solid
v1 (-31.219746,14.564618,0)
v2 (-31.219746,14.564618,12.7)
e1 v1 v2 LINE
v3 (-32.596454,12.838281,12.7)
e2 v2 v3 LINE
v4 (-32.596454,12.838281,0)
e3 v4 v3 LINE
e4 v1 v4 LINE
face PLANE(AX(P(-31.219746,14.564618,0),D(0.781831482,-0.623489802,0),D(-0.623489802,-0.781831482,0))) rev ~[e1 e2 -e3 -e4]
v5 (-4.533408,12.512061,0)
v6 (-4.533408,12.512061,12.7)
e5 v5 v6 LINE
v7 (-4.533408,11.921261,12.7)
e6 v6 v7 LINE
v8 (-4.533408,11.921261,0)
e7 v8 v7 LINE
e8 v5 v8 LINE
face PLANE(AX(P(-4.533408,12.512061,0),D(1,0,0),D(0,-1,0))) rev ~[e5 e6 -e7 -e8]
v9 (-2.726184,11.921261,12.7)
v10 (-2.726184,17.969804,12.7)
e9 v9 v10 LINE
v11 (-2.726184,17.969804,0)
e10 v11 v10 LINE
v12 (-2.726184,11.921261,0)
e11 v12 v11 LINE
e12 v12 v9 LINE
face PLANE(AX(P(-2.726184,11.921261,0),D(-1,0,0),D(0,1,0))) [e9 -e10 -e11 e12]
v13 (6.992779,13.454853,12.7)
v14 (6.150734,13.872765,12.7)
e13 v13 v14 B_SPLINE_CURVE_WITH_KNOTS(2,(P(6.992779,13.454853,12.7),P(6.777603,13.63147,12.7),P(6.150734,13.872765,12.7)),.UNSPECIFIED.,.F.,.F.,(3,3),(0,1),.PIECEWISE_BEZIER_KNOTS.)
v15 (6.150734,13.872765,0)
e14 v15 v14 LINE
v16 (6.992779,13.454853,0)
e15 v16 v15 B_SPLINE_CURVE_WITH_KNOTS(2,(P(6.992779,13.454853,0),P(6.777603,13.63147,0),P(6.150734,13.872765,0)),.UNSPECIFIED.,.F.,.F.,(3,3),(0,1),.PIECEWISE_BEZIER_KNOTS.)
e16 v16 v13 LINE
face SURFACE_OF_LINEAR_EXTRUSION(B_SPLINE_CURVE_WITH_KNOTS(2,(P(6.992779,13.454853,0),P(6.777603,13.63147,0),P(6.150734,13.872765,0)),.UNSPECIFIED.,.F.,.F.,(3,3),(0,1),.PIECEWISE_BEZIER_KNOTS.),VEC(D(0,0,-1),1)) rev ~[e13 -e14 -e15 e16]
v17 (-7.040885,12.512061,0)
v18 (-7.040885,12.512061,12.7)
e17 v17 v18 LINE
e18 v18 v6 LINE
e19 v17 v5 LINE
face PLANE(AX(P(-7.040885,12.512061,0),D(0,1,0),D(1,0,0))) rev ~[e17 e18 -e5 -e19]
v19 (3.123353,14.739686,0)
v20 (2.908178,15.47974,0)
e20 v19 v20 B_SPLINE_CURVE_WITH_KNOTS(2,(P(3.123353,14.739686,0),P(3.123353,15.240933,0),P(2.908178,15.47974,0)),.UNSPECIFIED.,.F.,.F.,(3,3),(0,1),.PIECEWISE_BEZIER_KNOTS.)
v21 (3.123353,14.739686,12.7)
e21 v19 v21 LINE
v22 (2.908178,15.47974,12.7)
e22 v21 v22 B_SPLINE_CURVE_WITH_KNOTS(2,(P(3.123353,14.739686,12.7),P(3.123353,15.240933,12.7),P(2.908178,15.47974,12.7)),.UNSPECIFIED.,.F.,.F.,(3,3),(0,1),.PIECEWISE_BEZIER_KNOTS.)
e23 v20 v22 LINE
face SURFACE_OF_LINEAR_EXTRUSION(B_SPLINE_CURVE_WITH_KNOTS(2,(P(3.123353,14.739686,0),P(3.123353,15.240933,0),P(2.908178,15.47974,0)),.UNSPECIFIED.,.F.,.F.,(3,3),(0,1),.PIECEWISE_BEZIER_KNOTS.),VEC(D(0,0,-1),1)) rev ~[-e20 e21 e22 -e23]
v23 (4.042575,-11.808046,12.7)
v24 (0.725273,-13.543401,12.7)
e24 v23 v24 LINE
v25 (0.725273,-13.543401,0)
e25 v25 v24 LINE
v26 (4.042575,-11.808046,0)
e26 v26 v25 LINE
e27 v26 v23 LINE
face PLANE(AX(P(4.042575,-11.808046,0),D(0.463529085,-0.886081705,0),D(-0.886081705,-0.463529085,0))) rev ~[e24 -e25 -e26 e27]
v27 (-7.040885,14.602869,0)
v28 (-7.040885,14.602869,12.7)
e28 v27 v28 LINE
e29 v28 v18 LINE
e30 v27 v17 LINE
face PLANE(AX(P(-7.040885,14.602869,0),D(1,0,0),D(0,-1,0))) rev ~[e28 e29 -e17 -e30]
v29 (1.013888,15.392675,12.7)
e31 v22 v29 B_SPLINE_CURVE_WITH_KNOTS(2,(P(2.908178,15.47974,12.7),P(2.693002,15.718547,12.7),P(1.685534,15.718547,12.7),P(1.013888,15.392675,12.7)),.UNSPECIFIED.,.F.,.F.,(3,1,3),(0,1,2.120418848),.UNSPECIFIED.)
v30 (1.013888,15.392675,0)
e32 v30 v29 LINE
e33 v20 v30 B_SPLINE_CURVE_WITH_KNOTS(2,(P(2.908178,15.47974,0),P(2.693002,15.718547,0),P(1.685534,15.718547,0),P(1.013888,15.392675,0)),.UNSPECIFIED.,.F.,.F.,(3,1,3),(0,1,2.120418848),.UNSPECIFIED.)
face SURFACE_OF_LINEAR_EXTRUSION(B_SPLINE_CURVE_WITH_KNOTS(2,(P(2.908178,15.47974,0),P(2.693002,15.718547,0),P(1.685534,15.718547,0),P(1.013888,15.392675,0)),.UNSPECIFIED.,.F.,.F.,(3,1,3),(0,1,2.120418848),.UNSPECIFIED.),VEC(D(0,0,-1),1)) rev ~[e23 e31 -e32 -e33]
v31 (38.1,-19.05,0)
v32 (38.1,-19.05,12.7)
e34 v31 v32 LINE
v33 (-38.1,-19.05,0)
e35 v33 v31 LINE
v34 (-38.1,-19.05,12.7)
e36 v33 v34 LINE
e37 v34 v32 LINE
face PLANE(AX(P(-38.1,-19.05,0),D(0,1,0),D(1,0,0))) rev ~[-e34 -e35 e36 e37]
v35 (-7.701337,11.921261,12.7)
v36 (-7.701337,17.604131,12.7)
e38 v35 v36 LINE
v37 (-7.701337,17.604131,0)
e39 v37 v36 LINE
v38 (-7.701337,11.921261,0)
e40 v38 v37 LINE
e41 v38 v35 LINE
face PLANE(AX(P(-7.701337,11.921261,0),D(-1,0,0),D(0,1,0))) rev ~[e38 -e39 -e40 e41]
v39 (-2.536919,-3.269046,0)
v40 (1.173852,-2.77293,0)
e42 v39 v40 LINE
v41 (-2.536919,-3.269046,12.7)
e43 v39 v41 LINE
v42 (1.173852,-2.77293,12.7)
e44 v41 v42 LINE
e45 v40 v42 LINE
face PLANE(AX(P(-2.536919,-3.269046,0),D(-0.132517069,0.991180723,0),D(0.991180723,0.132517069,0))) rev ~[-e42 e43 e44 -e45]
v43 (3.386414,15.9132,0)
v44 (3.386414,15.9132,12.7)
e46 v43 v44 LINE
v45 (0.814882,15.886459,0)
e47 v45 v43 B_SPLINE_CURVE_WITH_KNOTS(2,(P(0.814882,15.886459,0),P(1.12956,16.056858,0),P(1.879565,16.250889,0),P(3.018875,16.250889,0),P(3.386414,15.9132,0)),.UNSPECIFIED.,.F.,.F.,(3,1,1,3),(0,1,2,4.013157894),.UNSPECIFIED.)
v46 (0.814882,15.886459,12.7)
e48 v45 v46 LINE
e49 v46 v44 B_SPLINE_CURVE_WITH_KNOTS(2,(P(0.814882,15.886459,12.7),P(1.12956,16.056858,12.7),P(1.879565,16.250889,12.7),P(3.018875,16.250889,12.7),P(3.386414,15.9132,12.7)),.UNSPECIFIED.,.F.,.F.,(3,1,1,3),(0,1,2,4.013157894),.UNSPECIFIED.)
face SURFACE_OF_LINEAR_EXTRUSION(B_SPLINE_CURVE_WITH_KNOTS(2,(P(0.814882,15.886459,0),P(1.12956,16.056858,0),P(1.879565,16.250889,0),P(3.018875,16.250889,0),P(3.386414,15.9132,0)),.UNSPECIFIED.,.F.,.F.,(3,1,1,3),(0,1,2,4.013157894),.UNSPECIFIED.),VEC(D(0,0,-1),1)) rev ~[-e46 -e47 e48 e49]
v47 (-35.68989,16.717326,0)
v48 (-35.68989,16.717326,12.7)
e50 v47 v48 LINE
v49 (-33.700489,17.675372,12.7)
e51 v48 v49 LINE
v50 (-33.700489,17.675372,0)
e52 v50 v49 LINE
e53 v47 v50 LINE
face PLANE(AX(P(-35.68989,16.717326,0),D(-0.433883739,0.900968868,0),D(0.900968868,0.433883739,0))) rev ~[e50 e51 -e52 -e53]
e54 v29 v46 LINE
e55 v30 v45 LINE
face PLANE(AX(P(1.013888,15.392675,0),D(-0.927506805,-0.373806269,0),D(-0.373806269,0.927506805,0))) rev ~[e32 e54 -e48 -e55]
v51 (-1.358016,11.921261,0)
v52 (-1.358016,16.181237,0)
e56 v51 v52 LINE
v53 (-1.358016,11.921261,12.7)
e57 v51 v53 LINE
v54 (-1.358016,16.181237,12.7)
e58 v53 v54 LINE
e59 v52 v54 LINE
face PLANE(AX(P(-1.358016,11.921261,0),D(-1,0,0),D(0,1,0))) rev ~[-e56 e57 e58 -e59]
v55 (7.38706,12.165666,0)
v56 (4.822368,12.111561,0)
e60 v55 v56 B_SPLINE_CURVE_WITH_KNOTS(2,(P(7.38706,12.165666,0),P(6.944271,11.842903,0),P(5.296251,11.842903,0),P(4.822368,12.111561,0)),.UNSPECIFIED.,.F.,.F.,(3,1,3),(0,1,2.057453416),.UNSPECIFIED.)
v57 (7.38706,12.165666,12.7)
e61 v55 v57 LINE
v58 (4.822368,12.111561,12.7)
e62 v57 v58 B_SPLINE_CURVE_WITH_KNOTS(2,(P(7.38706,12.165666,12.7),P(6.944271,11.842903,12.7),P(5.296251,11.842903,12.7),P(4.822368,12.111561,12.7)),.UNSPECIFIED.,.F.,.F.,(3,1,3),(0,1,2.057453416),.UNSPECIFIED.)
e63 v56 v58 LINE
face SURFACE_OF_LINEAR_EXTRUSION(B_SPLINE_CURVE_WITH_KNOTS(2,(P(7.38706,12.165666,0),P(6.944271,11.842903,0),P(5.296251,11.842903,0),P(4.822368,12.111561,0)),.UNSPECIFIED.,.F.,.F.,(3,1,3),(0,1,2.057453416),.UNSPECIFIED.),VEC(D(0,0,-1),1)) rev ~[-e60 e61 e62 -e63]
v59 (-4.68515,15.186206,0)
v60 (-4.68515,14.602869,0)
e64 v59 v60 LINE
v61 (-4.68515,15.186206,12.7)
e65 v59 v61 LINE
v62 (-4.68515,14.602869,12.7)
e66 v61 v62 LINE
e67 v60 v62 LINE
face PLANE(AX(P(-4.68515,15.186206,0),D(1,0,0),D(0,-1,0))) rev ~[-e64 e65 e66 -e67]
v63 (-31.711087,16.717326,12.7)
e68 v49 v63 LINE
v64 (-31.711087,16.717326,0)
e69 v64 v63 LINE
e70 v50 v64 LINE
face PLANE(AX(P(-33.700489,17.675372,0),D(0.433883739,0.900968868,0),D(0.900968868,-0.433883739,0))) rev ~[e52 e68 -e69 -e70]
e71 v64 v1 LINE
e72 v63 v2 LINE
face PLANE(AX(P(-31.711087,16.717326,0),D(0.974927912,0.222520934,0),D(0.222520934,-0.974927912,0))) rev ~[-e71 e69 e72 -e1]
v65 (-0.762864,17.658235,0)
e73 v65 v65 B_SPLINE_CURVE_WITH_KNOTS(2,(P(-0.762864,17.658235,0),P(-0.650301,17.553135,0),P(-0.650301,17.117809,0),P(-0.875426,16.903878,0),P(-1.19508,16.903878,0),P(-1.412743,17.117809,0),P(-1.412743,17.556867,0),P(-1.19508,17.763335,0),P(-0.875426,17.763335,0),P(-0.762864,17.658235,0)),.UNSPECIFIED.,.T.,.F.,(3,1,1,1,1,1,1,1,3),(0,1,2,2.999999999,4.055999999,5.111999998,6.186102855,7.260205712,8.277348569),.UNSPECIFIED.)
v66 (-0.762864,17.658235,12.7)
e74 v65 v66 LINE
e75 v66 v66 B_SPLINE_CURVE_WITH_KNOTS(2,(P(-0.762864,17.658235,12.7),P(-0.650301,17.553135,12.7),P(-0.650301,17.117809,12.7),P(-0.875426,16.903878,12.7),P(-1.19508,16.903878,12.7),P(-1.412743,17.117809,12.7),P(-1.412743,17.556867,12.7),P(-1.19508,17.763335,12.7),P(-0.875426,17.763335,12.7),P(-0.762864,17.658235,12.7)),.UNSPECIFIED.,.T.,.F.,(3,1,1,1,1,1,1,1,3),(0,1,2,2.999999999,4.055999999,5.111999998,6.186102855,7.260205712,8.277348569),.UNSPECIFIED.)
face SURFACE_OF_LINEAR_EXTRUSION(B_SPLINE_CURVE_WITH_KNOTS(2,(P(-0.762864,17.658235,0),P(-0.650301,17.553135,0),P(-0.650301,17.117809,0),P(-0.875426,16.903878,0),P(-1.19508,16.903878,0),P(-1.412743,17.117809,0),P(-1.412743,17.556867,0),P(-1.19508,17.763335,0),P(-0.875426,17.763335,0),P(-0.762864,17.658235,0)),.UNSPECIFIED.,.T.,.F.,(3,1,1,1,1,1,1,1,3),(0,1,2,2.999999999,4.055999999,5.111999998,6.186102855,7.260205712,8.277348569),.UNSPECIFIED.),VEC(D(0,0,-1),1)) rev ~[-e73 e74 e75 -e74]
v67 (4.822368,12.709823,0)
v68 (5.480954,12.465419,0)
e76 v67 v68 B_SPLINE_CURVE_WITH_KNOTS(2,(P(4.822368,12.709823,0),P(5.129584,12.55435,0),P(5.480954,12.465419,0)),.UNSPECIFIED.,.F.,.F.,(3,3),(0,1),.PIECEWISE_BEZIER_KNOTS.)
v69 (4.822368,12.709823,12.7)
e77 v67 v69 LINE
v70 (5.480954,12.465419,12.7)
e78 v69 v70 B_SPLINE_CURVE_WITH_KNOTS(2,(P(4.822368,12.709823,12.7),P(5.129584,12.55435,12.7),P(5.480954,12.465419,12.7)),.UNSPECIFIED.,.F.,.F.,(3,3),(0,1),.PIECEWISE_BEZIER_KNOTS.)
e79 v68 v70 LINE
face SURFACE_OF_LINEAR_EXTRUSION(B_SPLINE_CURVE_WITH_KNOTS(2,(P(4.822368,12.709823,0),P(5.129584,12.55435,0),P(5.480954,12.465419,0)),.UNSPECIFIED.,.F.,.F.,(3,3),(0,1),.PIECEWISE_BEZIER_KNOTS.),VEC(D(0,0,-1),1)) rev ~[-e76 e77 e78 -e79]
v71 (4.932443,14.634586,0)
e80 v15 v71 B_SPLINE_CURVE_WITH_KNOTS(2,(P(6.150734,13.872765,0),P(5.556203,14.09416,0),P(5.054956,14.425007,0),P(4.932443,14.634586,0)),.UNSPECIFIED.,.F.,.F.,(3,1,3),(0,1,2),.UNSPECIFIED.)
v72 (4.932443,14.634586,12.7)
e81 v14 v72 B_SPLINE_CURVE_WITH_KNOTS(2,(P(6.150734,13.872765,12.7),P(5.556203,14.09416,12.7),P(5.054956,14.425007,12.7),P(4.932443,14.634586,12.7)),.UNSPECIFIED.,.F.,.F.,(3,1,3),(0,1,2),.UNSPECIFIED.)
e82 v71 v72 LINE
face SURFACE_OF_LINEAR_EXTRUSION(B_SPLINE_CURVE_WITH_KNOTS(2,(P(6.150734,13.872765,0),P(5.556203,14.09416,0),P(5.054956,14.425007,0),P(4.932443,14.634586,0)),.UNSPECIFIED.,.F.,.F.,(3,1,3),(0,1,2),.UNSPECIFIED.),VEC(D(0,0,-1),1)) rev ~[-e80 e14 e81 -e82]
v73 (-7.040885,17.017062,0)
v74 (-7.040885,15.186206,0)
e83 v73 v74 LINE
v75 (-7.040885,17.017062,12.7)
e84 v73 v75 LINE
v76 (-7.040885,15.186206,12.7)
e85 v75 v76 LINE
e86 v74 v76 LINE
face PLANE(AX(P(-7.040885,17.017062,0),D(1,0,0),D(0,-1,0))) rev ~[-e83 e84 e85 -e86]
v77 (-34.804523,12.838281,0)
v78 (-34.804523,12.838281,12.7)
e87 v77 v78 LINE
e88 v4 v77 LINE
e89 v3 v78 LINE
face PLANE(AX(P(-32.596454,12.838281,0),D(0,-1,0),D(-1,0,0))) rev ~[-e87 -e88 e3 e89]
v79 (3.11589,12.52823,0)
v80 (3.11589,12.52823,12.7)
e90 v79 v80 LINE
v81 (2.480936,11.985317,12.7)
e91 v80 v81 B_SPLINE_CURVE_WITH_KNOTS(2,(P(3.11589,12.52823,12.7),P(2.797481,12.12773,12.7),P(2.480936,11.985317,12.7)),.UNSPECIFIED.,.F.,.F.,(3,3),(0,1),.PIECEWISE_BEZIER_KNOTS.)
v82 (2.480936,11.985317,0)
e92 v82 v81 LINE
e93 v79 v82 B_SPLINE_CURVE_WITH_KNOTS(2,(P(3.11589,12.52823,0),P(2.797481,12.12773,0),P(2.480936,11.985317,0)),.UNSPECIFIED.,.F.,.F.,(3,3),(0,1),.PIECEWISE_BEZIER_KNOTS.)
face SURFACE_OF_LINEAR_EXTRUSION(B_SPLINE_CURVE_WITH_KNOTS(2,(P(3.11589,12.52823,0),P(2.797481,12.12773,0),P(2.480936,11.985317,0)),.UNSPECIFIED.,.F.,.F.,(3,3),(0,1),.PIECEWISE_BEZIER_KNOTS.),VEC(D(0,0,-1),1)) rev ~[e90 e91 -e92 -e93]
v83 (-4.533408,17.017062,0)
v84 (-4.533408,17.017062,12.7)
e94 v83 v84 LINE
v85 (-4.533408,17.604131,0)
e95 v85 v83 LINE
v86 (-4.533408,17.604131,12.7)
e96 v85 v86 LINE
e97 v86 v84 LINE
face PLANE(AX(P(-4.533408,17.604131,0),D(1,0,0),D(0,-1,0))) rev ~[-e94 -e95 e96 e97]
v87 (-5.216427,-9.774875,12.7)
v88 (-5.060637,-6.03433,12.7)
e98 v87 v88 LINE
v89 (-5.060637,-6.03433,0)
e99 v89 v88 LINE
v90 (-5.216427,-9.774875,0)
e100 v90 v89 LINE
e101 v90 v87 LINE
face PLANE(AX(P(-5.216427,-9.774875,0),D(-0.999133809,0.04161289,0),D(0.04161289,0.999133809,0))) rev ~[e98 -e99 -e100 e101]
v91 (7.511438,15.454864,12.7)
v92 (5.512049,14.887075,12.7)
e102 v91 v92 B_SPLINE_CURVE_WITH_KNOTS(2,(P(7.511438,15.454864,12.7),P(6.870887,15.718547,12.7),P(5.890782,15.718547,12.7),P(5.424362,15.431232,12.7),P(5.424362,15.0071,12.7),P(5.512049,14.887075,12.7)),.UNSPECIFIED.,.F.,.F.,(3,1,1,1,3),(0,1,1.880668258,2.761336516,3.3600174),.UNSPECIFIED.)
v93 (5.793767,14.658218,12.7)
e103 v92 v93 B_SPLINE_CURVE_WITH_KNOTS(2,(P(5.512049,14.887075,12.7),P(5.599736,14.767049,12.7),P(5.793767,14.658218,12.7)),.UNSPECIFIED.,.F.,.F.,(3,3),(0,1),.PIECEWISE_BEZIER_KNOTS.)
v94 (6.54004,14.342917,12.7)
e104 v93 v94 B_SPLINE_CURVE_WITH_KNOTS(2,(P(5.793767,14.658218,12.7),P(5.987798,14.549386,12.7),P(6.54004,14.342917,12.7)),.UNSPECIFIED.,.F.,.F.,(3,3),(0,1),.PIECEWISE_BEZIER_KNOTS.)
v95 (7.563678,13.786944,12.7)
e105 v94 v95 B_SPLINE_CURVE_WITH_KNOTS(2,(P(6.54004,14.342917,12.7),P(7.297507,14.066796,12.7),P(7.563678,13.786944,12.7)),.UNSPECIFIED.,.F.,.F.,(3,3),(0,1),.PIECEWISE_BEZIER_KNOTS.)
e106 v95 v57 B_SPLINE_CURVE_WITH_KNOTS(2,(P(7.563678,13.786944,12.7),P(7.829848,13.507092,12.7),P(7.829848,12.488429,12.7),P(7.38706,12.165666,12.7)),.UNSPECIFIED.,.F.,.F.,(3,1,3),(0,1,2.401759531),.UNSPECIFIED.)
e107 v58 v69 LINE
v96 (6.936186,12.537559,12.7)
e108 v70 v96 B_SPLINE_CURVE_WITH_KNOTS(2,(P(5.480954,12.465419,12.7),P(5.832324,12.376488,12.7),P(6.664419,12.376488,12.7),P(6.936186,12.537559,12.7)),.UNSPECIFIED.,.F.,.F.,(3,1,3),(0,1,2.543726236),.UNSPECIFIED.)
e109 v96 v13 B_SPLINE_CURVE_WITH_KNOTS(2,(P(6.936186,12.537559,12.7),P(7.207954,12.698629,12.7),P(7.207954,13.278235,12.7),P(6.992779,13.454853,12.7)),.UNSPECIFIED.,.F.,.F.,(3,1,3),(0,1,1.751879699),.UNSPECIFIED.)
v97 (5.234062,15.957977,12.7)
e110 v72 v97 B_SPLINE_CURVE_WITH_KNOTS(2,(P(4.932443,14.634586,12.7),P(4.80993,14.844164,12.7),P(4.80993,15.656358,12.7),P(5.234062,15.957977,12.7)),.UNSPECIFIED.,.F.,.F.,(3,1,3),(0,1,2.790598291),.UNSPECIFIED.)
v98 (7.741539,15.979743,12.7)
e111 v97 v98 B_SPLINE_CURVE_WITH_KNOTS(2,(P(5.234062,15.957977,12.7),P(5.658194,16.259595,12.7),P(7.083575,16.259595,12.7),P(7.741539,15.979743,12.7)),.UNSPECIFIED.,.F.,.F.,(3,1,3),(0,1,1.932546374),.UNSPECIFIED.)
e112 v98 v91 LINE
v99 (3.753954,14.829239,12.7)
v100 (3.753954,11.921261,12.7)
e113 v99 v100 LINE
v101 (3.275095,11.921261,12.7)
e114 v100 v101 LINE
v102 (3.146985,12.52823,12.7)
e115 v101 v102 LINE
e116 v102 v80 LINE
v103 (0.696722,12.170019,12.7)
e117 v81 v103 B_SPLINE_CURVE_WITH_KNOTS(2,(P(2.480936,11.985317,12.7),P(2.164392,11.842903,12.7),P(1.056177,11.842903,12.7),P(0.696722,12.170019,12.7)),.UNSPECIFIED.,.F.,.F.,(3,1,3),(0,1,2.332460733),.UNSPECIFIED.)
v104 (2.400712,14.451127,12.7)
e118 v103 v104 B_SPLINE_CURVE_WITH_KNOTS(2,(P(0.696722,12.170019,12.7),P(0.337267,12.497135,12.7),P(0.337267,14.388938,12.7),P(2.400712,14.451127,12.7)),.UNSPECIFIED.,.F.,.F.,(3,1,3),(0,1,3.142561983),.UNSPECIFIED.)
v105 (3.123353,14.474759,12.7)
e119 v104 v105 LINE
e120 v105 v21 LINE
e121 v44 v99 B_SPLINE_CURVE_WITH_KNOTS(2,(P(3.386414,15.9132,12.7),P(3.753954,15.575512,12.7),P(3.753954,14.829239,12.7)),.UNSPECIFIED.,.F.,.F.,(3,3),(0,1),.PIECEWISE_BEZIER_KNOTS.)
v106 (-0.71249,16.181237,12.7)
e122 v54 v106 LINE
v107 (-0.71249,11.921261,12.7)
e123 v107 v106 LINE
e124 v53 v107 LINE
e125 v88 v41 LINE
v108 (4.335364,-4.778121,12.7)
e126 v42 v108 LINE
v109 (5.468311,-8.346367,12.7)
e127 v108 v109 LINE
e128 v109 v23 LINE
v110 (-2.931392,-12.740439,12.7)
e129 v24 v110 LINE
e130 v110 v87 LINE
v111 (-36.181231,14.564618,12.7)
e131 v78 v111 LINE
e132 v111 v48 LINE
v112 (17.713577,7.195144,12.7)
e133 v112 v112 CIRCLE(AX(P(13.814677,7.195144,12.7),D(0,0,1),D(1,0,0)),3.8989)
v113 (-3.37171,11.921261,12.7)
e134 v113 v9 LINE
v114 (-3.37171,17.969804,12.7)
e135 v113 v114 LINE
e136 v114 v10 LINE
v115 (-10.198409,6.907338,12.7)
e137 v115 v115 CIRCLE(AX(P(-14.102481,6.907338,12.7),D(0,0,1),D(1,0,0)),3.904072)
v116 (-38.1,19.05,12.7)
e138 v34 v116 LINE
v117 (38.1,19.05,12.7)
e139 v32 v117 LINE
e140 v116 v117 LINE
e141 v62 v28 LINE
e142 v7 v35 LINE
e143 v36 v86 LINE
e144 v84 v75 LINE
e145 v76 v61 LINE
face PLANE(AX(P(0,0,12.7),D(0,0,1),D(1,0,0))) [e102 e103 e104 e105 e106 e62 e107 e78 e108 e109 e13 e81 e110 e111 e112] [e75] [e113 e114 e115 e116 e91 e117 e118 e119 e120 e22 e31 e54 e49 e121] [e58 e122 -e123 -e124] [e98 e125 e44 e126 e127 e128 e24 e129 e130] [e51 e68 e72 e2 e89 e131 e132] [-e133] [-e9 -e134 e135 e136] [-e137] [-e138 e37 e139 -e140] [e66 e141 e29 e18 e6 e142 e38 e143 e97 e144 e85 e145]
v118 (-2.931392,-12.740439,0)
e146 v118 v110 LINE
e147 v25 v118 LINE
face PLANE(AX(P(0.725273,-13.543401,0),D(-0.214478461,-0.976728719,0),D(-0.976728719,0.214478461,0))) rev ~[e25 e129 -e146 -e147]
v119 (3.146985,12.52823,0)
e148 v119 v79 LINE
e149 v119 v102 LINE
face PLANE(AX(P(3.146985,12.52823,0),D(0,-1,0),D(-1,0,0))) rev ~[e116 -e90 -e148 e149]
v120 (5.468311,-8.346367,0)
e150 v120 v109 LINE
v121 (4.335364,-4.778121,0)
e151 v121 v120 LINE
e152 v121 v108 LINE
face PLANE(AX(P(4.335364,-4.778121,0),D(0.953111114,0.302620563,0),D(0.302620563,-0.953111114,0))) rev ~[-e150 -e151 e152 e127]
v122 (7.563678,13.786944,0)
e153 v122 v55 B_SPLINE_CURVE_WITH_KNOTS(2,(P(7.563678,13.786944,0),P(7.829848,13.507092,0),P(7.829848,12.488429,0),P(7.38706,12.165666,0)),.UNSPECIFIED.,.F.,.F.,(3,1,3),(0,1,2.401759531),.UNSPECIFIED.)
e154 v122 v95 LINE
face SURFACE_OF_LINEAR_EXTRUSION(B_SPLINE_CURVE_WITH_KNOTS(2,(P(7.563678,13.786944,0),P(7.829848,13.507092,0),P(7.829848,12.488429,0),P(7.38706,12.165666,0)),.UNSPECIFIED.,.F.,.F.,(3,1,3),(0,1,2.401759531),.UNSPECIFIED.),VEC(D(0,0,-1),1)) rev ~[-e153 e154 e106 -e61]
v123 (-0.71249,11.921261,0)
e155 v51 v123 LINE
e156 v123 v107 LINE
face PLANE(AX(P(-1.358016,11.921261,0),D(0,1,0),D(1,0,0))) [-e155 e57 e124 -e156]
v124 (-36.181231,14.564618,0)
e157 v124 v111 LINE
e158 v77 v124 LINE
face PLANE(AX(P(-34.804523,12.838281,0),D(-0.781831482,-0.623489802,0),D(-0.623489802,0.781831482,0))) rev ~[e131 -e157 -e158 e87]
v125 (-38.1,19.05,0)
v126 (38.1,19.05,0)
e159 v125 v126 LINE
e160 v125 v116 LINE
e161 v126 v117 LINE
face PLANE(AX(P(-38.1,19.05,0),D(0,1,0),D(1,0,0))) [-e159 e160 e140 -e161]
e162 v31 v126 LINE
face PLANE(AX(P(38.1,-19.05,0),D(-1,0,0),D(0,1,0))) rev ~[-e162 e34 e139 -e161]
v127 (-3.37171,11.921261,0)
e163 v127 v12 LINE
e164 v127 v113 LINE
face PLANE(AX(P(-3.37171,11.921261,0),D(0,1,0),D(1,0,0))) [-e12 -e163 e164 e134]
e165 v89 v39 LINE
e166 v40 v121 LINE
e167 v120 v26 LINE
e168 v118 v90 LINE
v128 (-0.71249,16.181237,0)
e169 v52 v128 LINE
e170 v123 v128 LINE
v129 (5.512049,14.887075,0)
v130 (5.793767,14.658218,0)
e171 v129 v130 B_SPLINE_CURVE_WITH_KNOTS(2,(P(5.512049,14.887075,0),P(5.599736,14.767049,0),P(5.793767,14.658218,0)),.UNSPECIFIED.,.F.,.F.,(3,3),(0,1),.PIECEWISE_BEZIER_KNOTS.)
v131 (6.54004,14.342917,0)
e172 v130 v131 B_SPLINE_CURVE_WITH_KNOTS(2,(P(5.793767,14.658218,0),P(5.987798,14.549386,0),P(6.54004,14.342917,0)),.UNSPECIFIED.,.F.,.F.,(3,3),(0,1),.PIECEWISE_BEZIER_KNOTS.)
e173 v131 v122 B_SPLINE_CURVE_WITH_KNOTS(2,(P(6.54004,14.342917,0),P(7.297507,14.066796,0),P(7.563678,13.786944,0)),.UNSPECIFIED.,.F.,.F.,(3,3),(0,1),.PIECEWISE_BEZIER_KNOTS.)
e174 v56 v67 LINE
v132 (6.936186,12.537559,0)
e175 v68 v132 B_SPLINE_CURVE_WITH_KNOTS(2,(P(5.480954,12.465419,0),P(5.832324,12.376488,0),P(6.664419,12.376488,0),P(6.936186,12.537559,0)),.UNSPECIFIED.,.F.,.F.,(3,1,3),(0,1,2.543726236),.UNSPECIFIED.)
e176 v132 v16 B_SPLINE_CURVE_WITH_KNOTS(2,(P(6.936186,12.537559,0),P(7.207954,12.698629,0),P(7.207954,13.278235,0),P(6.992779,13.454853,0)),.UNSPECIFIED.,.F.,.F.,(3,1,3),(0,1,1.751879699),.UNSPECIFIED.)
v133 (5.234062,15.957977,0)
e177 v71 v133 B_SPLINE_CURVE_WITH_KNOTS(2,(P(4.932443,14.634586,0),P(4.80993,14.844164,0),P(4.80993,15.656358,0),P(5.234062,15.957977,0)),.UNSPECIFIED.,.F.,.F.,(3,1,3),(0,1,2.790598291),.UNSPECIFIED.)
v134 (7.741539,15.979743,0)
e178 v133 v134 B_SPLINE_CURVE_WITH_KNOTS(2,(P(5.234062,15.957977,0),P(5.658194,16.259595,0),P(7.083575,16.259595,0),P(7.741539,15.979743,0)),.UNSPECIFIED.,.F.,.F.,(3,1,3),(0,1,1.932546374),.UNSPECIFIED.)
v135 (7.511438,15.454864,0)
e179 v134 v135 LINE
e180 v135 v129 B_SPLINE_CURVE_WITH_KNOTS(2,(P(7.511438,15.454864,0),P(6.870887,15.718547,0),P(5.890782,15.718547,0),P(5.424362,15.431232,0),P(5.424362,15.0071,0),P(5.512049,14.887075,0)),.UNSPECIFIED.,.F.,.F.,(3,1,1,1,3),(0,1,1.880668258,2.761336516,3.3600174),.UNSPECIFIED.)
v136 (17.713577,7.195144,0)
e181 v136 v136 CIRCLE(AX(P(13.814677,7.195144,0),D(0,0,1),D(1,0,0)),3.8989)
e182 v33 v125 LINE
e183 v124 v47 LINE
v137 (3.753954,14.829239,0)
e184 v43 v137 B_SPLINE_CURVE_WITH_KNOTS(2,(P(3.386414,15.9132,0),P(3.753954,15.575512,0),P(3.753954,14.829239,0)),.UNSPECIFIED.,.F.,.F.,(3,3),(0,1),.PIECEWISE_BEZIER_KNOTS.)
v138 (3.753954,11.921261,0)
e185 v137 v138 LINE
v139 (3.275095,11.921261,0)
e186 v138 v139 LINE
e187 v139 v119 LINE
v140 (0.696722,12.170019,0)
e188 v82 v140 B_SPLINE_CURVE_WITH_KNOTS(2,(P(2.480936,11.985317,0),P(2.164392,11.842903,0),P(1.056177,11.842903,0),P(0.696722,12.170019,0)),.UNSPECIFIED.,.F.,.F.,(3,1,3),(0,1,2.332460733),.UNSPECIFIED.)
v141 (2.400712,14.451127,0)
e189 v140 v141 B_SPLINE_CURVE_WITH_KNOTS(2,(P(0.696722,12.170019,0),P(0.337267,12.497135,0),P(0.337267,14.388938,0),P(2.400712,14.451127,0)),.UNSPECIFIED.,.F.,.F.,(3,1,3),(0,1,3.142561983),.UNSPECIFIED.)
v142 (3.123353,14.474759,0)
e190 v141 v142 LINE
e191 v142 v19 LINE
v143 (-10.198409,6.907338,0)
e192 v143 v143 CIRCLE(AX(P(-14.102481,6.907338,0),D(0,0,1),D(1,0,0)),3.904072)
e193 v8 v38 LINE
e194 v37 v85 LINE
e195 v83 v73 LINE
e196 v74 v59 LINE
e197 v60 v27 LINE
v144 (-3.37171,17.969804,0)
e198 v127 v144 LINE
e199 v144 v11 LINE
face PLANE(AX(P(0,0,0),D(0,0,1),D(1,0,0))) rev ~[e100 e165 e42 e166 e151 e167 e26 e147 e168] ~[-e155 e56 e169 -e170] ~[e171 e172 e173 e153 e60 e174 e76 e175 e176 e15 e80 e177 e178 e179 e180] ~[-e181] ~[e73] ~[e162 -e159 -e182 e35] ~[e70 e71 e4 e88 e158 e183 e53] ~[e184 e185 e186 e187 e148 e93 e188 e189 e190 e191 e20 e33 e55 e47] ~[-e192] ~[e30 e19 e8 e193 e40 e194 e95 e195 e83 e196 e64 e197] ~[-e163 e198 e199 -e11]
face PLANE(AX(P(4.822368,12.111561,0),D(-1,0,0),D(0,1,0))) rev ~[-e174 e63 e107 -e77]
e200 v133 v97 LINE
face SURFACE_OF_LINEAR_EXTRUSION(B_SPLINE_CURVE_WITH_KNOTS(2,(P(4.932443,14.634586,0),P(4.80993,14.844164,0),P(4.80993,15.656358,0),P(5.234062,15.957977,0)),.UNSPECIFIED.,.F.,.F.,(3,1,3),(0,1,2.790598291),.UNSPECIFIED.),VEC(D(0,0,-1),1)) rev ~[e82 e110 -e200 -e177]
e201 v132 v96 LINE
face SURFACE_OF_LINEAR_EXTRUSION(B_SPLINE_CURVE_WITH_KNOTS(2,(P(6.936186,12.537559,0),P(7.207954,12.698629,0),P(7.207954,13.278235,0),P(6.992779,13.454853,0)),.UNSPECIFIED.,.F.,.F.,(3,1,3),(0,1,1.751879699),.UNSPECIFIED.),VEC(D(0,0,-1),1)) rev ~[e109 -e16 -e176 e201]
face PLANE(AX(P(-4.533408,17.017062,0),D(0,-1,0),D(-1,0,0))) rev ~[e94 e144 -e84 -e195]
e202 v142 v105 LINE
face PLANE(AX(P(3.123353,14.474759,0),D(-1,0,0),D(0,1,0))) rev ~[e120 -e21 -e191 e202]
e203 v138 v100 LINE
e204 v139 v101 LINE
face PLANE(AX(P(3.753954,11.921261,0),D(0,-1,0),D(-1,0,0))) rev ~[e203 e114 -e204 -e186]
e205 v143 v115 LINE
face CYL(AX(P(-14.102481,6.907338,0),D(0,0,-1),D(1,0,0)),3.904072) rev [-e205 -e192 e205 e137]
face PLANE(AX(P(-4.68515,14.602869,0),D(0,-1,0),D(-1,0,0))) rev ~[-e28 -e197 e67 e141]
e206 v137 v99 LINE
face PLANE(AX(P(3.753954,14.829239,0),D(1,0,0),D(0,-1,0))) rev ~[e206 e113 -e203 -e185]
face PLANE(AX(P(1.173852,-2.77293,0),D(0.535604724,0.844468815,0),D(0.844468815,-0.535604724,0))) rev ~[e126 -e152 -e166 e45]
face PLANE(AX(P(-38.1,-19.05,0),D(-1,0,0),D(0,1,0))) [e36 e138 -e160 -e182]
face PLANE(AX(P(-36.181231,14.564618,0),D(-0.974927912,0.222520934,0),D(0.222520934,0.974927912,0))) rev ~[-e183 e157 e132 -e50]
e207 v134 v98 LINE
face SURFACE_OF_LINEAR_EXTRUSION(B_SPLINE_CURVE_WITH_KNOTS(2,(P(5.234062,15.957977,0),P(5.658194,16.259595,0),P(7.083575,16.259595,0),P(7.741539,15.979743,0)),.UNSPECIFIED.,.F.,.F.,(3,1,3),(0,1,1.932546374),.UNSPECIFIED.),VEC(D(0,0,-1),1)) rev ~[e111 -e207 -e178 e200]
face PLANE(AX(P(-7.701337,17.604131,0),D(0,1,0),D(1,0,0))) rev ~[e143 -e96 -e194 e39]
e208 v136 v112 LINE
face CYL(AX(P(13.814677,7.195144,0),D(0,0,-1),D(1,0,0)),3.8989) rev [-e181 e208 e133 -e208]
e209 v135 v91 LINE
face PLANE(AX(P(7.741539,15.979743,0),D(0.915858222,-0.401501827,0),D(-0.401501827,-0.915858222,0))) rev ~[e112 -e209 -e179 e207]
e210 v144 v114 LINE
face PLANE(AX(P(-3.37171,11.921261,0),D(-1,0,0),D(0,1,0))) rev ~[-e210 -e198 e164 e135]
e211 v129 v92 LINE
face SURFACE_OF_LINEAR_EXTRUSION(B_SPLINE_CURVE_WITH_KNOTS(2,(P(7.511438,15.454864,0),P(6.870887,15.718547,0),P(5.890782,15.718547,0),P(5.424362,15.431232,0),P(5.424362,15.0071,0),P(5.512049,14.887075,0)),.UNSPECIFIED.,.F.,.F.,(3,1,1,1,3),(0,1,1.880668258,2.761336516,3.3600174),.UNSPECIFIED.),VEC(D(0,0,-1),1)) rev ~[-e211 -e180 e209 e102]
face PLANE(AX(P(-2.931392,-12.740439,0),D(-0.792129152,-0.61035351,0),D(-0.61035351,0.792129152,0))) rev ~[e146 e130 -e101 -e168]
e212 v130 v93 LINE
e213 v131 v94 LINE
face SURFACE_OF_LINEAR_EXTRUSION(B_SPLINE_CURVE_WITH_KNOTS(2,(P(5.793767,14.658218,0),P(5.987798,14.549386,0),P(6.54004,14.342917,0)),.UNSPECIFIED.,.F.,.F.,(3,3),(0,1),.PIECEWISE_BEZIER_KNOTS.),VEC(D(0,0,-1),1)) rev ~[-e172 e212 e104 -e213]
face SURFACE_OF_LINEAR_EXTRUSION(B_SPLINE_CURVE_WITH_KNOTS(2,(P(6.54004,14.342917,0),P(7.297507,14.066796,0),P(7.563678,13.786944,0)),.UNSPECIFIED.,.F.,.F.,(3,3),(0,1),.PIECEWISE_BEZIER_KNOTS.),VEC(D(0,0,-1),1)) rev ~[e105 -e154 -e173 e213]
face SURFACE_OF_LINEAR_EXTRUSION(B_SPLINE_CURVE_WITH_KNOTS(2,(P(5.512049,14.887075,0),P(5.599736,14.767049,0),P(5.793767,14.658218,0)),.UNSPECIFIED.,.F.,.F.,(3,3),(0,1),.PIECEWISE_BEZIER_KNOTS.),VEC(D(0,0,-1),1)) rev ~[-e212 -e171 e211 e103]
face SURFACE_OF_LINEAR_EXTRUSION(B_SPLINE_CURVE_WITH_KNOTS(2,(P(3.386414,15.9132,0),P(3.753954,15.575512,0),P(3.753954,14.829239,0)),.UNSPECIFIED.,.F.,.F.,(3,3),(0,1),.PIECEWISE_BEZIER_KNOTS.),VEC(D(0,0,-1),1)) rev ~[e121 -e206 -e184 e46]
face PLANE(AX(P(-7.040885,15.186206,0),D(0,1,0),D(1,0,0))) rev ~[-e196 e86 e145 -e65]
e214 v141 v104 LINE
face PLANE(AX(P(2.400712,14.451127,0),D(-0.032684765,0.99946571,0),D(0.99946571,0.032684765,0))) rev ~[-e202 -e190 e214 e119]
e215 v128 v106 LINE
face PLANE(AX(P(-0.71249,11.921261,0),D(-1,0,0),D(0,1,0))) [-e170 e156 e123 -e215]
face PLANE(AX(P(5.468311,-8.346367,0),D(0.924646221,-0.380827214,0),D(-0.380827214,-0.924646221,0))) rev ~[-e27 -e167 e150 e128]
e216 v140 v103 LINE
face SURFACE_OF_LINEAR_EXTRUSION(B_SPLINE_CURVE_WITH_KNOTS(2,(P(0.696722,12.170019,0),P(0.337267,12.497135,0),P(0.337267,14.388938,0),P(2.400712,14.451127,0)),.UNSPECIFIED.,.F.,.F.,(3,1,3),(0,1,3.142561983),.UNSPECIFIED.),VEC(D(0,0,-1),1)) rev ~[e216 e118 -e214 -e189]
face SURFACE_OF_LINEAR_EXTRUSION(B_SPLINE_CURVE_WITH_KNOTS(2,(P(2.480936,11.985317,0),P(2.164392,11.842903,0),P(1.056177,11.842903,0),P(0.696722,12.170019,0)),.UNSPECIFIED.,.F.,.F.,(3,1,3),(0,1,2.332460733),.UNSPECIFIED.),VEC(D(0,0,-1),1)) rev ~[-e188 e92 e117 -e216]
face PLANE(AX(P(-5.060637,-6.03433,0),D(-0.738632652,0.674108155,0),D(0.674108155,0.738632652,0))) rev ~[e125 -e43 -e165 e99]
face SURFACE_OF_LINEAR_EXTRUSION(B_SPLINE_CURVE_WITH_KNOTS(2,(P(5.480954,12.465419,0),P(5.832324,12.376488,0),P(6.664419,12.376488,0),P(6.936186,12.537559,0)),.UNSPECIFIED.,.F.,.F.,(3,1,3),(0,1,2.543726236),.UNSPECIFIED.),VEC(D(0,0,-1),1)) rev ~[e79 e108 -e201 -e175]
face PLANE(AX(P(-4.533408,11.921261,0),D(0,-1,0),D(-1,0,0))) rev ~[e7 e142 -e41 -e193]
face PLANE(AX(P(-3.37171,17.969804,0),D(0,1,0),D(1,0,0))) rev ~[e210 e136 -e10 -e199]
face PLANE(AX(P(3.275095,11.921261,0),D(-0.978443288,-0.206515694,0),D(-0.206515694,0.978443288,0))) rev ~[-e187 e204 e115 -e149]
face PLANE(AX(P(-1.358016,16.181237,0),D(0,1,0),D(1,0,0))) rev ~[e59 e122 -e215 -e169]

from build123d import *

# Parameters (mm, degrees)
F0_W     = 76.2
F0_H     = 38.1
F0_R     = 3.9040723684
F0_W_2   = 0.6455261652
F0_H_2   = 4.2599751749
F0_H_3   = 6.0485428542
F0_R_2   = 3.8989
F1_DEPTH = 12.7


with BuildPart() as f1:
    # F0 (on Top) → F1 (new body)
    with BuildSketch(Plane.XY):
        Rectangle(F0_W, F0_H)
        Polygon((5.4683112539, -8.3463666961), (4.0425748882, -11.8080461533), (0.725272804, -13.5434007948), (-2.9313924856, -12.7404388974), (-5.2164266525, -9.774875257), (-5.0606368145, -6.0343300593), (-2.5369187683, -3.269045974), (1.1738517643, -2.7729301572), (4.3353640105, -4.7781207134), align=None, mode=Mode.SUBTRACT)
        with Locations((-14.1024813056, 6.9073382765)):
            Circle(F0_R, mode=Mode.SUBTRACT)
        Polygon((-31.2197456793, 14.5646184978), (-32.5964540855, 12.8382807598), (-34.8045229299, 12.8382807598), (-36.1812313362, 14.5646184978), (-35.6898897947, 16.7173264462), (-33.7004885077, 17.6753716126), (-31.7110872208, 16.7173264462), align=None, mode=Mode.SUBTRACT)
        with Locations((-1.035253305, 14.0512490247)):
            Rectangle(F0_W_2, F0_H_2, mode=Mode.SUBTRACT)
        Polygon((-4.533408102, 12.5120609141), (-4.533408102, 11.9212614372), (-7.7013370861, 11.9212614372), (-7.7013370861, 17.60413051), (-4.533408102, 17.60413051), (-4.533408102, 17.0170623983), (-7.0408854604, 17.0170623983), (-7.0408854604, 15.1862059144), (-4.6851502834, 15.1862059144), (-4.6851502834, 14.6028691678), (-7.0408854604, 14.6028691678), (-7.0408854604, 12.5120609141), align=None, mode=Mode.SUBTRACT)
        with Locations((-3.0489466797, 14.9455328644)):
            Rectangle(F0_W_2, F0_H_3, mode=Mode.SUBTRACT)
        with BuildLine():
            add(Edge.make_bspline(
                [(-1.3039115934, 17.0108434565), (-1.412743076, 17.1178092565), (-1.412743076, 17.3354722216)],
                knots=[0, 0, 0, 1, 1, 1], degree=2))
            add(Edge.make_bspline(
                [(-1.412743076, 17.3354722216), (-1.412743076, 17.5568665519), (-1.3039115934, 17.6601009868)],
                knots=[0, 0, 0, 1, 1, 1], degree=2))
            add(Edge.make_bspline(
                [(-1.3039115934, 17.6601009868), (-1.1950801108, 17.7633354217), (-1.0309000457, 17.7633354217)],
                knots=[0, 0, 0, 1, 1, 1], degree=2))
            add(Edge.make_bspline(
                [(-1.0309000457, 17.7633354217), (-0.8754264992, 17.7633354217), (-0.7628636515, 17.6582353042)],
                knots=[0, 0, 0, 1, 1, 1], degree=2))
            add(Edge.make_bspline(
                [(-0.7628636515, 17.6582353042), (-0.6503008038, 17.5531351868), (-0.6503008038, 17.3354722216)],
                knots=[0, 0, 0, 1, 1, 1], degree=2))
            add(Edge.make_bspline(
                [(-0.6503008038, 17.3354722216), (-0.6503008038, 17.1178092565), (-0.7628636515, 17.0108434565)],
                knots=[0, 0, 0, 1, 1, 1], degree=2))
            add(Edge.make_bspline(
                [(-0.7628636515, 17.0108434565), (-0.8754264992, 16.9038776565), (-1.0309000457, 16.9038776565)],
                knots=[0, 0, 0, 1, 1, 1], degree=2))
            add(Edge.make_bspline(
                [(-1.0309000457, 16.9038776565), (-1.1950801108, 16.9038776565), (-1.3039115934, 17.0108434565)],
                knots=[0, 0, 0, 1, 1, 1], degree=2))
        make_face(mode=Mode.SUBTRACT)
        with Locations((13.814676553, 7.1951444261)):
            Circle(F0_R_2, mode=Mode.SUBTRACT)
        with BuildLine():
            Line((3.7539538223, 11.9212614372), (3.275095299, 11.9212614372))
            Line((3.275095299, 11.9212614372), (3.1469850967, 12.5282301629))
            Line((3.1469850967, 12.5282301629), (3.1158903874, 12.5282301629))
            add(Edge.make_bspline(
                [(3.1158903874, 12.5282301629), (2.7974805641, 12.127730307), (2.4809364233, 11.9853165384)],
                knots=[0, 0, 0, 1, 1, 1], degree=2))
            add(Edge.make_bspline(
                [(2.4809364233, 11.9853165384), (2.1643922826, 11.8429027698), (1.6892651244, 11.8429027698)],
                knots=[0, 0, 0, 1, 1, 1], degree=2))
            add(Edge.make_bspline(
                [(1.6892651244, 11.8429027698), (1.0561768429, 11.8429027698), (0.6967220033, 12.1700191117)],
                knots=[0, 0, 0, 1, 1, 1], degree=2))
            add(Edge.make_bspline(
                [(0.6967220033, 12.1700191117), (0.3372671638, 12.4971354536), (0.3372671638, 13.0991290258)],
                knots=[0, 0, 0, 1, 1, 1], degree=2))
            add(Edge.make_bspline(
                [(0.3372671638, 13.0991290258), (0.3372671638, 14.3889375678), (2.4007120733, 14.4511269864)],
                knots=[0, 0, 0, 1, 1, 1], degree=2))
            Line((2.4007120733, 14.4511269864), (3.1233531176, 14.4747589655))
            Line((3.1233531176, 14.4747589655), (3.1233531176, 14.7396858887))
            add(Edge.make_bspline(
                [(3.1233531176, 14.7396858887), (3.1233531176, 15.2409326028), (2.9081777292, 15.4797399702)],
                knots=[0, 0, 0, 1, 1, 1], degree=2))
            add(Edge.make_bspline(
                [(2.9081777292, 15.4797399702), (2.6930023408, 15.7185473377), (2.2178751826, 15.7185473377)],
                knots=[0, 0, 0, 1, 1, 1], degree=2))
            add(Edge.make_bspline(
                [(2.2178751826, 15.7185473377), (1.6855337593, 15.7185473377), (1.0138880383, 15.3926747842)],
                knots=[0, 0, 0, 1, 1, 1], degree=2))
            Line((1.0138880383, 15.3926747842), (0.8148818987, 15.886458768))
            add(Edge.make_bspline(
                [(0.8148818987, 15.886458768), (1.1295603569, 16.056857775), (1.5045625511, 16.153873268)],
                knots=[0, 0, 0, 1, 1, 1], degree=2))
            add(Edge.make_bspline(
                [(1.5045625511, 16.153873268), (1.8795647453, 16.250888761), (2.2576764105, 16.250888761)],
                knots=[0, 0, 0, 1, 1, 1], degree=2))
            add(Edge.make_bspline(
                [(2.2576764105, 16.250888761), (3.0188748943, 16.250888761), (3.3864143583, 15.913200218)],
                knots=[0, 0, 0, 1, 1, 1], degree=2))
            add(Edge.make_bspline(
                [(3.3864143583, 15.913200218), (3.7539538223, 15.5755116749), (3.7539538223, 14.8292386515)],
                knots=[0, 0, 0, 1, 1, 1], degree=2))
            Line((3.7539538223, 14.8292386515), (3.7539538223, 11.9212614372))
        make_face(mode=Mode.SUBTRACT)
        with BuildLine():
            add(Edge.make_bspline(
                [(7.5636776065, 13.7869439956), (7.8298483182, 13.5070916119), (7.8298483182, 13.0829597769)],
                knots=[0, 0, 0, 1, 1, 1], degree=2))
            add(Edge.make_bspline(
                [(7.8298483182, 13.0829597769), (7.8298483182, 12.488428935), (7.3870596577, 12.1656658524)],
                knots=[0, 0, 0, 1, 1, 1], degree=2))
            add(Edge.make_bspline(
                [(7.3870596577, 12.1656658524), (6.9442709971, 11.8429027698), (6.1432712854, 11.8429027698)],
                knots=[0, 0, 0, 1, 1, 1], degree=2))
            add(Edge.make_bspline(
                [(6.1432712854, 11.8429027698), (5.2962514039, 11.8429027698), (4.8223680341, 12.1115610582)],
                knots=[0, 0, 0, 1, 1, 1], degree=2))
            Line((4.8223680341, 12.1115610582), (4.8223680341, 12.7098232652))
            add(Edge.make_bspline(
                [(4.8223680341, 12.7098232652), (5.129583762, 12.5543497187), (5.4809539772, 12.4654188501)],
                knots=[0, 0, 0, 1, 1, 1], degree=2))
            add(Edge.make_bspline(
                [(5.4809539772, 12.4654188501), (5.8323241923, 12.3764879815), (6.1594405342, 12.3764879815)],
                knots=[0, 0, 0, 1, 1, 1], degree=2))
            add(Edge.make_bspline(
                [(6.1594405342, 12.3764879815), (6.6644186134, 12.3764879815), (6.9361863727, 12.5375585757)],
                knots=[0, 0, 0, 1, 1, 1], degree=2))
            add(Edge.make_bspline(
                [(6.9361863727, 12.5375585757), (7.2079541321, 12.6986291699), (7.2079541321, 13.0294768769)],
                knots=[0, 0, 0, 1, 1, 1], degree=2))
            add(Edge.make_bspline(
                [(7.2079541321, 13.0294768769), (7.2079541321, 13.2782345514), (6.9927787437, 13.4548525002)],
                knots=[0, 0, 0, 1, 1, 1], degree=2))
            add(Edge.make_bspline(
                [(6.9927787437, 13.4548525002), (6.7776033553, 13.6314704491), (6.1507340156, 13.8727653933)],
                knots=[0, 0, 0, 1, 1, 1], degree=2))
            add(Edge.make_bspline(
                [(6.1507340156, 13.8727653933), (5.5562031737, 14.0941597236), (5.3055798167, 14.2595835771)],
                knots=[0, 0, 0, 1, 1, 1], degree=2))
            add(Edge.make_bspline(
                [(5.3055798167, 14.2595835771), (5.0549564597, 14.4250074306), (4.932443305, 14.6345857713)],
                knots=[0, 0, 0, 1, 1, 1], degree=2))
            add(Edge.make_bspline(
                [(4.932443305, 14.6345857713), (4.8099301504, 14.844164112), (4.8099301504, 15.1352105911)],
                knots=[0, 0, 0, 1, 1, 1], degree=2))
            add(Edge.make_bspline(
                [(4.8099301504, 15.1352105911), (4.8099301504, 15.6563579191), (5.2340619853, 15.9579765994)],
                knots=[0, 0, 0, 1, 1, 1], degree=2))
            add(Edge.make_bspline(
                [(5.2340619853, 15.9579765994), (5.6581938202, 16.2595952796), (6.395760325, 16.2595952796)],
                knots=[0, 0, 0, 1, 1, 1], degree=2))
            add(Edge.make_bspline(
                [(6.395760325, 16.2595952796), (7.0835752948, 16.2595952796), (7.7415393437, 15.9797428959)],
                knots=[0, 0, 0, 1, 1, 1], degree=2))
            Line((7.7415393437, 15.9797428959), (7.5114384949, 15.4548642028))
            add(Edge.make_bspline(
                [(7.5114384949, 15.4548642028), (6.8708874832, 15.7185473377), (6.3497401552, 15.7185473377)],
                knots=[0, 0, 0, 1, 1, 1], degree=2))
            add(Edge.make_bspline(
                [(6.3497401552, 15.7185473377), (5.8907822458, 15.7185473377), (5.657571926, 15.5748897807)],
                knots=[0, 0, 0, 1, 1, 1], degree=2))
            add(Edge.make_bspline(
                [(5.657571926, 15.5748897807), (5.4243616062, 15.4312322237), (5.4243616062, 15.1787431842)],
                knots=[0, 0, 0, 1, 1, 1], degree=2))
            add(Edge.make_bspline(
                [(5.4243616062, 15.1787431842), (5.4243616062, 15.0071003888), (5.5120486865, 14.8870748109)],
                knots=[0, 0, 0, 1, 1, 1], degree=2))
            add(Edge.make_bspline(
                [(5.5120486865, 14.8870748109), (5.5997357667, 14.7670492329), (5.7937667528, 14.6582177504)],
                knots=[0, 0, 0, 1, 1, 1], degree=2))
            add(Edge.make_bspline(
                [(5.7937667528, 14.6582177504), (5.9877977389, 14.5493862678), (6.5400397762, 14.342917398)],
                knots=[0, 0, 0, 1, 1, 1], degree=2))
            add(Edge.make_bspline(
                [(6.5400397762, 14.342917398), (7.2975068949, 14.0667963794), (7.5636776065, 13.7869439956)],
                knots=[0, 0, 0, 1, 1, 1], degree=2))
        make_face(mode=Mode.SUBTRACT)
    extrude(amount=F1_DEPTH)


solid = f1.part
